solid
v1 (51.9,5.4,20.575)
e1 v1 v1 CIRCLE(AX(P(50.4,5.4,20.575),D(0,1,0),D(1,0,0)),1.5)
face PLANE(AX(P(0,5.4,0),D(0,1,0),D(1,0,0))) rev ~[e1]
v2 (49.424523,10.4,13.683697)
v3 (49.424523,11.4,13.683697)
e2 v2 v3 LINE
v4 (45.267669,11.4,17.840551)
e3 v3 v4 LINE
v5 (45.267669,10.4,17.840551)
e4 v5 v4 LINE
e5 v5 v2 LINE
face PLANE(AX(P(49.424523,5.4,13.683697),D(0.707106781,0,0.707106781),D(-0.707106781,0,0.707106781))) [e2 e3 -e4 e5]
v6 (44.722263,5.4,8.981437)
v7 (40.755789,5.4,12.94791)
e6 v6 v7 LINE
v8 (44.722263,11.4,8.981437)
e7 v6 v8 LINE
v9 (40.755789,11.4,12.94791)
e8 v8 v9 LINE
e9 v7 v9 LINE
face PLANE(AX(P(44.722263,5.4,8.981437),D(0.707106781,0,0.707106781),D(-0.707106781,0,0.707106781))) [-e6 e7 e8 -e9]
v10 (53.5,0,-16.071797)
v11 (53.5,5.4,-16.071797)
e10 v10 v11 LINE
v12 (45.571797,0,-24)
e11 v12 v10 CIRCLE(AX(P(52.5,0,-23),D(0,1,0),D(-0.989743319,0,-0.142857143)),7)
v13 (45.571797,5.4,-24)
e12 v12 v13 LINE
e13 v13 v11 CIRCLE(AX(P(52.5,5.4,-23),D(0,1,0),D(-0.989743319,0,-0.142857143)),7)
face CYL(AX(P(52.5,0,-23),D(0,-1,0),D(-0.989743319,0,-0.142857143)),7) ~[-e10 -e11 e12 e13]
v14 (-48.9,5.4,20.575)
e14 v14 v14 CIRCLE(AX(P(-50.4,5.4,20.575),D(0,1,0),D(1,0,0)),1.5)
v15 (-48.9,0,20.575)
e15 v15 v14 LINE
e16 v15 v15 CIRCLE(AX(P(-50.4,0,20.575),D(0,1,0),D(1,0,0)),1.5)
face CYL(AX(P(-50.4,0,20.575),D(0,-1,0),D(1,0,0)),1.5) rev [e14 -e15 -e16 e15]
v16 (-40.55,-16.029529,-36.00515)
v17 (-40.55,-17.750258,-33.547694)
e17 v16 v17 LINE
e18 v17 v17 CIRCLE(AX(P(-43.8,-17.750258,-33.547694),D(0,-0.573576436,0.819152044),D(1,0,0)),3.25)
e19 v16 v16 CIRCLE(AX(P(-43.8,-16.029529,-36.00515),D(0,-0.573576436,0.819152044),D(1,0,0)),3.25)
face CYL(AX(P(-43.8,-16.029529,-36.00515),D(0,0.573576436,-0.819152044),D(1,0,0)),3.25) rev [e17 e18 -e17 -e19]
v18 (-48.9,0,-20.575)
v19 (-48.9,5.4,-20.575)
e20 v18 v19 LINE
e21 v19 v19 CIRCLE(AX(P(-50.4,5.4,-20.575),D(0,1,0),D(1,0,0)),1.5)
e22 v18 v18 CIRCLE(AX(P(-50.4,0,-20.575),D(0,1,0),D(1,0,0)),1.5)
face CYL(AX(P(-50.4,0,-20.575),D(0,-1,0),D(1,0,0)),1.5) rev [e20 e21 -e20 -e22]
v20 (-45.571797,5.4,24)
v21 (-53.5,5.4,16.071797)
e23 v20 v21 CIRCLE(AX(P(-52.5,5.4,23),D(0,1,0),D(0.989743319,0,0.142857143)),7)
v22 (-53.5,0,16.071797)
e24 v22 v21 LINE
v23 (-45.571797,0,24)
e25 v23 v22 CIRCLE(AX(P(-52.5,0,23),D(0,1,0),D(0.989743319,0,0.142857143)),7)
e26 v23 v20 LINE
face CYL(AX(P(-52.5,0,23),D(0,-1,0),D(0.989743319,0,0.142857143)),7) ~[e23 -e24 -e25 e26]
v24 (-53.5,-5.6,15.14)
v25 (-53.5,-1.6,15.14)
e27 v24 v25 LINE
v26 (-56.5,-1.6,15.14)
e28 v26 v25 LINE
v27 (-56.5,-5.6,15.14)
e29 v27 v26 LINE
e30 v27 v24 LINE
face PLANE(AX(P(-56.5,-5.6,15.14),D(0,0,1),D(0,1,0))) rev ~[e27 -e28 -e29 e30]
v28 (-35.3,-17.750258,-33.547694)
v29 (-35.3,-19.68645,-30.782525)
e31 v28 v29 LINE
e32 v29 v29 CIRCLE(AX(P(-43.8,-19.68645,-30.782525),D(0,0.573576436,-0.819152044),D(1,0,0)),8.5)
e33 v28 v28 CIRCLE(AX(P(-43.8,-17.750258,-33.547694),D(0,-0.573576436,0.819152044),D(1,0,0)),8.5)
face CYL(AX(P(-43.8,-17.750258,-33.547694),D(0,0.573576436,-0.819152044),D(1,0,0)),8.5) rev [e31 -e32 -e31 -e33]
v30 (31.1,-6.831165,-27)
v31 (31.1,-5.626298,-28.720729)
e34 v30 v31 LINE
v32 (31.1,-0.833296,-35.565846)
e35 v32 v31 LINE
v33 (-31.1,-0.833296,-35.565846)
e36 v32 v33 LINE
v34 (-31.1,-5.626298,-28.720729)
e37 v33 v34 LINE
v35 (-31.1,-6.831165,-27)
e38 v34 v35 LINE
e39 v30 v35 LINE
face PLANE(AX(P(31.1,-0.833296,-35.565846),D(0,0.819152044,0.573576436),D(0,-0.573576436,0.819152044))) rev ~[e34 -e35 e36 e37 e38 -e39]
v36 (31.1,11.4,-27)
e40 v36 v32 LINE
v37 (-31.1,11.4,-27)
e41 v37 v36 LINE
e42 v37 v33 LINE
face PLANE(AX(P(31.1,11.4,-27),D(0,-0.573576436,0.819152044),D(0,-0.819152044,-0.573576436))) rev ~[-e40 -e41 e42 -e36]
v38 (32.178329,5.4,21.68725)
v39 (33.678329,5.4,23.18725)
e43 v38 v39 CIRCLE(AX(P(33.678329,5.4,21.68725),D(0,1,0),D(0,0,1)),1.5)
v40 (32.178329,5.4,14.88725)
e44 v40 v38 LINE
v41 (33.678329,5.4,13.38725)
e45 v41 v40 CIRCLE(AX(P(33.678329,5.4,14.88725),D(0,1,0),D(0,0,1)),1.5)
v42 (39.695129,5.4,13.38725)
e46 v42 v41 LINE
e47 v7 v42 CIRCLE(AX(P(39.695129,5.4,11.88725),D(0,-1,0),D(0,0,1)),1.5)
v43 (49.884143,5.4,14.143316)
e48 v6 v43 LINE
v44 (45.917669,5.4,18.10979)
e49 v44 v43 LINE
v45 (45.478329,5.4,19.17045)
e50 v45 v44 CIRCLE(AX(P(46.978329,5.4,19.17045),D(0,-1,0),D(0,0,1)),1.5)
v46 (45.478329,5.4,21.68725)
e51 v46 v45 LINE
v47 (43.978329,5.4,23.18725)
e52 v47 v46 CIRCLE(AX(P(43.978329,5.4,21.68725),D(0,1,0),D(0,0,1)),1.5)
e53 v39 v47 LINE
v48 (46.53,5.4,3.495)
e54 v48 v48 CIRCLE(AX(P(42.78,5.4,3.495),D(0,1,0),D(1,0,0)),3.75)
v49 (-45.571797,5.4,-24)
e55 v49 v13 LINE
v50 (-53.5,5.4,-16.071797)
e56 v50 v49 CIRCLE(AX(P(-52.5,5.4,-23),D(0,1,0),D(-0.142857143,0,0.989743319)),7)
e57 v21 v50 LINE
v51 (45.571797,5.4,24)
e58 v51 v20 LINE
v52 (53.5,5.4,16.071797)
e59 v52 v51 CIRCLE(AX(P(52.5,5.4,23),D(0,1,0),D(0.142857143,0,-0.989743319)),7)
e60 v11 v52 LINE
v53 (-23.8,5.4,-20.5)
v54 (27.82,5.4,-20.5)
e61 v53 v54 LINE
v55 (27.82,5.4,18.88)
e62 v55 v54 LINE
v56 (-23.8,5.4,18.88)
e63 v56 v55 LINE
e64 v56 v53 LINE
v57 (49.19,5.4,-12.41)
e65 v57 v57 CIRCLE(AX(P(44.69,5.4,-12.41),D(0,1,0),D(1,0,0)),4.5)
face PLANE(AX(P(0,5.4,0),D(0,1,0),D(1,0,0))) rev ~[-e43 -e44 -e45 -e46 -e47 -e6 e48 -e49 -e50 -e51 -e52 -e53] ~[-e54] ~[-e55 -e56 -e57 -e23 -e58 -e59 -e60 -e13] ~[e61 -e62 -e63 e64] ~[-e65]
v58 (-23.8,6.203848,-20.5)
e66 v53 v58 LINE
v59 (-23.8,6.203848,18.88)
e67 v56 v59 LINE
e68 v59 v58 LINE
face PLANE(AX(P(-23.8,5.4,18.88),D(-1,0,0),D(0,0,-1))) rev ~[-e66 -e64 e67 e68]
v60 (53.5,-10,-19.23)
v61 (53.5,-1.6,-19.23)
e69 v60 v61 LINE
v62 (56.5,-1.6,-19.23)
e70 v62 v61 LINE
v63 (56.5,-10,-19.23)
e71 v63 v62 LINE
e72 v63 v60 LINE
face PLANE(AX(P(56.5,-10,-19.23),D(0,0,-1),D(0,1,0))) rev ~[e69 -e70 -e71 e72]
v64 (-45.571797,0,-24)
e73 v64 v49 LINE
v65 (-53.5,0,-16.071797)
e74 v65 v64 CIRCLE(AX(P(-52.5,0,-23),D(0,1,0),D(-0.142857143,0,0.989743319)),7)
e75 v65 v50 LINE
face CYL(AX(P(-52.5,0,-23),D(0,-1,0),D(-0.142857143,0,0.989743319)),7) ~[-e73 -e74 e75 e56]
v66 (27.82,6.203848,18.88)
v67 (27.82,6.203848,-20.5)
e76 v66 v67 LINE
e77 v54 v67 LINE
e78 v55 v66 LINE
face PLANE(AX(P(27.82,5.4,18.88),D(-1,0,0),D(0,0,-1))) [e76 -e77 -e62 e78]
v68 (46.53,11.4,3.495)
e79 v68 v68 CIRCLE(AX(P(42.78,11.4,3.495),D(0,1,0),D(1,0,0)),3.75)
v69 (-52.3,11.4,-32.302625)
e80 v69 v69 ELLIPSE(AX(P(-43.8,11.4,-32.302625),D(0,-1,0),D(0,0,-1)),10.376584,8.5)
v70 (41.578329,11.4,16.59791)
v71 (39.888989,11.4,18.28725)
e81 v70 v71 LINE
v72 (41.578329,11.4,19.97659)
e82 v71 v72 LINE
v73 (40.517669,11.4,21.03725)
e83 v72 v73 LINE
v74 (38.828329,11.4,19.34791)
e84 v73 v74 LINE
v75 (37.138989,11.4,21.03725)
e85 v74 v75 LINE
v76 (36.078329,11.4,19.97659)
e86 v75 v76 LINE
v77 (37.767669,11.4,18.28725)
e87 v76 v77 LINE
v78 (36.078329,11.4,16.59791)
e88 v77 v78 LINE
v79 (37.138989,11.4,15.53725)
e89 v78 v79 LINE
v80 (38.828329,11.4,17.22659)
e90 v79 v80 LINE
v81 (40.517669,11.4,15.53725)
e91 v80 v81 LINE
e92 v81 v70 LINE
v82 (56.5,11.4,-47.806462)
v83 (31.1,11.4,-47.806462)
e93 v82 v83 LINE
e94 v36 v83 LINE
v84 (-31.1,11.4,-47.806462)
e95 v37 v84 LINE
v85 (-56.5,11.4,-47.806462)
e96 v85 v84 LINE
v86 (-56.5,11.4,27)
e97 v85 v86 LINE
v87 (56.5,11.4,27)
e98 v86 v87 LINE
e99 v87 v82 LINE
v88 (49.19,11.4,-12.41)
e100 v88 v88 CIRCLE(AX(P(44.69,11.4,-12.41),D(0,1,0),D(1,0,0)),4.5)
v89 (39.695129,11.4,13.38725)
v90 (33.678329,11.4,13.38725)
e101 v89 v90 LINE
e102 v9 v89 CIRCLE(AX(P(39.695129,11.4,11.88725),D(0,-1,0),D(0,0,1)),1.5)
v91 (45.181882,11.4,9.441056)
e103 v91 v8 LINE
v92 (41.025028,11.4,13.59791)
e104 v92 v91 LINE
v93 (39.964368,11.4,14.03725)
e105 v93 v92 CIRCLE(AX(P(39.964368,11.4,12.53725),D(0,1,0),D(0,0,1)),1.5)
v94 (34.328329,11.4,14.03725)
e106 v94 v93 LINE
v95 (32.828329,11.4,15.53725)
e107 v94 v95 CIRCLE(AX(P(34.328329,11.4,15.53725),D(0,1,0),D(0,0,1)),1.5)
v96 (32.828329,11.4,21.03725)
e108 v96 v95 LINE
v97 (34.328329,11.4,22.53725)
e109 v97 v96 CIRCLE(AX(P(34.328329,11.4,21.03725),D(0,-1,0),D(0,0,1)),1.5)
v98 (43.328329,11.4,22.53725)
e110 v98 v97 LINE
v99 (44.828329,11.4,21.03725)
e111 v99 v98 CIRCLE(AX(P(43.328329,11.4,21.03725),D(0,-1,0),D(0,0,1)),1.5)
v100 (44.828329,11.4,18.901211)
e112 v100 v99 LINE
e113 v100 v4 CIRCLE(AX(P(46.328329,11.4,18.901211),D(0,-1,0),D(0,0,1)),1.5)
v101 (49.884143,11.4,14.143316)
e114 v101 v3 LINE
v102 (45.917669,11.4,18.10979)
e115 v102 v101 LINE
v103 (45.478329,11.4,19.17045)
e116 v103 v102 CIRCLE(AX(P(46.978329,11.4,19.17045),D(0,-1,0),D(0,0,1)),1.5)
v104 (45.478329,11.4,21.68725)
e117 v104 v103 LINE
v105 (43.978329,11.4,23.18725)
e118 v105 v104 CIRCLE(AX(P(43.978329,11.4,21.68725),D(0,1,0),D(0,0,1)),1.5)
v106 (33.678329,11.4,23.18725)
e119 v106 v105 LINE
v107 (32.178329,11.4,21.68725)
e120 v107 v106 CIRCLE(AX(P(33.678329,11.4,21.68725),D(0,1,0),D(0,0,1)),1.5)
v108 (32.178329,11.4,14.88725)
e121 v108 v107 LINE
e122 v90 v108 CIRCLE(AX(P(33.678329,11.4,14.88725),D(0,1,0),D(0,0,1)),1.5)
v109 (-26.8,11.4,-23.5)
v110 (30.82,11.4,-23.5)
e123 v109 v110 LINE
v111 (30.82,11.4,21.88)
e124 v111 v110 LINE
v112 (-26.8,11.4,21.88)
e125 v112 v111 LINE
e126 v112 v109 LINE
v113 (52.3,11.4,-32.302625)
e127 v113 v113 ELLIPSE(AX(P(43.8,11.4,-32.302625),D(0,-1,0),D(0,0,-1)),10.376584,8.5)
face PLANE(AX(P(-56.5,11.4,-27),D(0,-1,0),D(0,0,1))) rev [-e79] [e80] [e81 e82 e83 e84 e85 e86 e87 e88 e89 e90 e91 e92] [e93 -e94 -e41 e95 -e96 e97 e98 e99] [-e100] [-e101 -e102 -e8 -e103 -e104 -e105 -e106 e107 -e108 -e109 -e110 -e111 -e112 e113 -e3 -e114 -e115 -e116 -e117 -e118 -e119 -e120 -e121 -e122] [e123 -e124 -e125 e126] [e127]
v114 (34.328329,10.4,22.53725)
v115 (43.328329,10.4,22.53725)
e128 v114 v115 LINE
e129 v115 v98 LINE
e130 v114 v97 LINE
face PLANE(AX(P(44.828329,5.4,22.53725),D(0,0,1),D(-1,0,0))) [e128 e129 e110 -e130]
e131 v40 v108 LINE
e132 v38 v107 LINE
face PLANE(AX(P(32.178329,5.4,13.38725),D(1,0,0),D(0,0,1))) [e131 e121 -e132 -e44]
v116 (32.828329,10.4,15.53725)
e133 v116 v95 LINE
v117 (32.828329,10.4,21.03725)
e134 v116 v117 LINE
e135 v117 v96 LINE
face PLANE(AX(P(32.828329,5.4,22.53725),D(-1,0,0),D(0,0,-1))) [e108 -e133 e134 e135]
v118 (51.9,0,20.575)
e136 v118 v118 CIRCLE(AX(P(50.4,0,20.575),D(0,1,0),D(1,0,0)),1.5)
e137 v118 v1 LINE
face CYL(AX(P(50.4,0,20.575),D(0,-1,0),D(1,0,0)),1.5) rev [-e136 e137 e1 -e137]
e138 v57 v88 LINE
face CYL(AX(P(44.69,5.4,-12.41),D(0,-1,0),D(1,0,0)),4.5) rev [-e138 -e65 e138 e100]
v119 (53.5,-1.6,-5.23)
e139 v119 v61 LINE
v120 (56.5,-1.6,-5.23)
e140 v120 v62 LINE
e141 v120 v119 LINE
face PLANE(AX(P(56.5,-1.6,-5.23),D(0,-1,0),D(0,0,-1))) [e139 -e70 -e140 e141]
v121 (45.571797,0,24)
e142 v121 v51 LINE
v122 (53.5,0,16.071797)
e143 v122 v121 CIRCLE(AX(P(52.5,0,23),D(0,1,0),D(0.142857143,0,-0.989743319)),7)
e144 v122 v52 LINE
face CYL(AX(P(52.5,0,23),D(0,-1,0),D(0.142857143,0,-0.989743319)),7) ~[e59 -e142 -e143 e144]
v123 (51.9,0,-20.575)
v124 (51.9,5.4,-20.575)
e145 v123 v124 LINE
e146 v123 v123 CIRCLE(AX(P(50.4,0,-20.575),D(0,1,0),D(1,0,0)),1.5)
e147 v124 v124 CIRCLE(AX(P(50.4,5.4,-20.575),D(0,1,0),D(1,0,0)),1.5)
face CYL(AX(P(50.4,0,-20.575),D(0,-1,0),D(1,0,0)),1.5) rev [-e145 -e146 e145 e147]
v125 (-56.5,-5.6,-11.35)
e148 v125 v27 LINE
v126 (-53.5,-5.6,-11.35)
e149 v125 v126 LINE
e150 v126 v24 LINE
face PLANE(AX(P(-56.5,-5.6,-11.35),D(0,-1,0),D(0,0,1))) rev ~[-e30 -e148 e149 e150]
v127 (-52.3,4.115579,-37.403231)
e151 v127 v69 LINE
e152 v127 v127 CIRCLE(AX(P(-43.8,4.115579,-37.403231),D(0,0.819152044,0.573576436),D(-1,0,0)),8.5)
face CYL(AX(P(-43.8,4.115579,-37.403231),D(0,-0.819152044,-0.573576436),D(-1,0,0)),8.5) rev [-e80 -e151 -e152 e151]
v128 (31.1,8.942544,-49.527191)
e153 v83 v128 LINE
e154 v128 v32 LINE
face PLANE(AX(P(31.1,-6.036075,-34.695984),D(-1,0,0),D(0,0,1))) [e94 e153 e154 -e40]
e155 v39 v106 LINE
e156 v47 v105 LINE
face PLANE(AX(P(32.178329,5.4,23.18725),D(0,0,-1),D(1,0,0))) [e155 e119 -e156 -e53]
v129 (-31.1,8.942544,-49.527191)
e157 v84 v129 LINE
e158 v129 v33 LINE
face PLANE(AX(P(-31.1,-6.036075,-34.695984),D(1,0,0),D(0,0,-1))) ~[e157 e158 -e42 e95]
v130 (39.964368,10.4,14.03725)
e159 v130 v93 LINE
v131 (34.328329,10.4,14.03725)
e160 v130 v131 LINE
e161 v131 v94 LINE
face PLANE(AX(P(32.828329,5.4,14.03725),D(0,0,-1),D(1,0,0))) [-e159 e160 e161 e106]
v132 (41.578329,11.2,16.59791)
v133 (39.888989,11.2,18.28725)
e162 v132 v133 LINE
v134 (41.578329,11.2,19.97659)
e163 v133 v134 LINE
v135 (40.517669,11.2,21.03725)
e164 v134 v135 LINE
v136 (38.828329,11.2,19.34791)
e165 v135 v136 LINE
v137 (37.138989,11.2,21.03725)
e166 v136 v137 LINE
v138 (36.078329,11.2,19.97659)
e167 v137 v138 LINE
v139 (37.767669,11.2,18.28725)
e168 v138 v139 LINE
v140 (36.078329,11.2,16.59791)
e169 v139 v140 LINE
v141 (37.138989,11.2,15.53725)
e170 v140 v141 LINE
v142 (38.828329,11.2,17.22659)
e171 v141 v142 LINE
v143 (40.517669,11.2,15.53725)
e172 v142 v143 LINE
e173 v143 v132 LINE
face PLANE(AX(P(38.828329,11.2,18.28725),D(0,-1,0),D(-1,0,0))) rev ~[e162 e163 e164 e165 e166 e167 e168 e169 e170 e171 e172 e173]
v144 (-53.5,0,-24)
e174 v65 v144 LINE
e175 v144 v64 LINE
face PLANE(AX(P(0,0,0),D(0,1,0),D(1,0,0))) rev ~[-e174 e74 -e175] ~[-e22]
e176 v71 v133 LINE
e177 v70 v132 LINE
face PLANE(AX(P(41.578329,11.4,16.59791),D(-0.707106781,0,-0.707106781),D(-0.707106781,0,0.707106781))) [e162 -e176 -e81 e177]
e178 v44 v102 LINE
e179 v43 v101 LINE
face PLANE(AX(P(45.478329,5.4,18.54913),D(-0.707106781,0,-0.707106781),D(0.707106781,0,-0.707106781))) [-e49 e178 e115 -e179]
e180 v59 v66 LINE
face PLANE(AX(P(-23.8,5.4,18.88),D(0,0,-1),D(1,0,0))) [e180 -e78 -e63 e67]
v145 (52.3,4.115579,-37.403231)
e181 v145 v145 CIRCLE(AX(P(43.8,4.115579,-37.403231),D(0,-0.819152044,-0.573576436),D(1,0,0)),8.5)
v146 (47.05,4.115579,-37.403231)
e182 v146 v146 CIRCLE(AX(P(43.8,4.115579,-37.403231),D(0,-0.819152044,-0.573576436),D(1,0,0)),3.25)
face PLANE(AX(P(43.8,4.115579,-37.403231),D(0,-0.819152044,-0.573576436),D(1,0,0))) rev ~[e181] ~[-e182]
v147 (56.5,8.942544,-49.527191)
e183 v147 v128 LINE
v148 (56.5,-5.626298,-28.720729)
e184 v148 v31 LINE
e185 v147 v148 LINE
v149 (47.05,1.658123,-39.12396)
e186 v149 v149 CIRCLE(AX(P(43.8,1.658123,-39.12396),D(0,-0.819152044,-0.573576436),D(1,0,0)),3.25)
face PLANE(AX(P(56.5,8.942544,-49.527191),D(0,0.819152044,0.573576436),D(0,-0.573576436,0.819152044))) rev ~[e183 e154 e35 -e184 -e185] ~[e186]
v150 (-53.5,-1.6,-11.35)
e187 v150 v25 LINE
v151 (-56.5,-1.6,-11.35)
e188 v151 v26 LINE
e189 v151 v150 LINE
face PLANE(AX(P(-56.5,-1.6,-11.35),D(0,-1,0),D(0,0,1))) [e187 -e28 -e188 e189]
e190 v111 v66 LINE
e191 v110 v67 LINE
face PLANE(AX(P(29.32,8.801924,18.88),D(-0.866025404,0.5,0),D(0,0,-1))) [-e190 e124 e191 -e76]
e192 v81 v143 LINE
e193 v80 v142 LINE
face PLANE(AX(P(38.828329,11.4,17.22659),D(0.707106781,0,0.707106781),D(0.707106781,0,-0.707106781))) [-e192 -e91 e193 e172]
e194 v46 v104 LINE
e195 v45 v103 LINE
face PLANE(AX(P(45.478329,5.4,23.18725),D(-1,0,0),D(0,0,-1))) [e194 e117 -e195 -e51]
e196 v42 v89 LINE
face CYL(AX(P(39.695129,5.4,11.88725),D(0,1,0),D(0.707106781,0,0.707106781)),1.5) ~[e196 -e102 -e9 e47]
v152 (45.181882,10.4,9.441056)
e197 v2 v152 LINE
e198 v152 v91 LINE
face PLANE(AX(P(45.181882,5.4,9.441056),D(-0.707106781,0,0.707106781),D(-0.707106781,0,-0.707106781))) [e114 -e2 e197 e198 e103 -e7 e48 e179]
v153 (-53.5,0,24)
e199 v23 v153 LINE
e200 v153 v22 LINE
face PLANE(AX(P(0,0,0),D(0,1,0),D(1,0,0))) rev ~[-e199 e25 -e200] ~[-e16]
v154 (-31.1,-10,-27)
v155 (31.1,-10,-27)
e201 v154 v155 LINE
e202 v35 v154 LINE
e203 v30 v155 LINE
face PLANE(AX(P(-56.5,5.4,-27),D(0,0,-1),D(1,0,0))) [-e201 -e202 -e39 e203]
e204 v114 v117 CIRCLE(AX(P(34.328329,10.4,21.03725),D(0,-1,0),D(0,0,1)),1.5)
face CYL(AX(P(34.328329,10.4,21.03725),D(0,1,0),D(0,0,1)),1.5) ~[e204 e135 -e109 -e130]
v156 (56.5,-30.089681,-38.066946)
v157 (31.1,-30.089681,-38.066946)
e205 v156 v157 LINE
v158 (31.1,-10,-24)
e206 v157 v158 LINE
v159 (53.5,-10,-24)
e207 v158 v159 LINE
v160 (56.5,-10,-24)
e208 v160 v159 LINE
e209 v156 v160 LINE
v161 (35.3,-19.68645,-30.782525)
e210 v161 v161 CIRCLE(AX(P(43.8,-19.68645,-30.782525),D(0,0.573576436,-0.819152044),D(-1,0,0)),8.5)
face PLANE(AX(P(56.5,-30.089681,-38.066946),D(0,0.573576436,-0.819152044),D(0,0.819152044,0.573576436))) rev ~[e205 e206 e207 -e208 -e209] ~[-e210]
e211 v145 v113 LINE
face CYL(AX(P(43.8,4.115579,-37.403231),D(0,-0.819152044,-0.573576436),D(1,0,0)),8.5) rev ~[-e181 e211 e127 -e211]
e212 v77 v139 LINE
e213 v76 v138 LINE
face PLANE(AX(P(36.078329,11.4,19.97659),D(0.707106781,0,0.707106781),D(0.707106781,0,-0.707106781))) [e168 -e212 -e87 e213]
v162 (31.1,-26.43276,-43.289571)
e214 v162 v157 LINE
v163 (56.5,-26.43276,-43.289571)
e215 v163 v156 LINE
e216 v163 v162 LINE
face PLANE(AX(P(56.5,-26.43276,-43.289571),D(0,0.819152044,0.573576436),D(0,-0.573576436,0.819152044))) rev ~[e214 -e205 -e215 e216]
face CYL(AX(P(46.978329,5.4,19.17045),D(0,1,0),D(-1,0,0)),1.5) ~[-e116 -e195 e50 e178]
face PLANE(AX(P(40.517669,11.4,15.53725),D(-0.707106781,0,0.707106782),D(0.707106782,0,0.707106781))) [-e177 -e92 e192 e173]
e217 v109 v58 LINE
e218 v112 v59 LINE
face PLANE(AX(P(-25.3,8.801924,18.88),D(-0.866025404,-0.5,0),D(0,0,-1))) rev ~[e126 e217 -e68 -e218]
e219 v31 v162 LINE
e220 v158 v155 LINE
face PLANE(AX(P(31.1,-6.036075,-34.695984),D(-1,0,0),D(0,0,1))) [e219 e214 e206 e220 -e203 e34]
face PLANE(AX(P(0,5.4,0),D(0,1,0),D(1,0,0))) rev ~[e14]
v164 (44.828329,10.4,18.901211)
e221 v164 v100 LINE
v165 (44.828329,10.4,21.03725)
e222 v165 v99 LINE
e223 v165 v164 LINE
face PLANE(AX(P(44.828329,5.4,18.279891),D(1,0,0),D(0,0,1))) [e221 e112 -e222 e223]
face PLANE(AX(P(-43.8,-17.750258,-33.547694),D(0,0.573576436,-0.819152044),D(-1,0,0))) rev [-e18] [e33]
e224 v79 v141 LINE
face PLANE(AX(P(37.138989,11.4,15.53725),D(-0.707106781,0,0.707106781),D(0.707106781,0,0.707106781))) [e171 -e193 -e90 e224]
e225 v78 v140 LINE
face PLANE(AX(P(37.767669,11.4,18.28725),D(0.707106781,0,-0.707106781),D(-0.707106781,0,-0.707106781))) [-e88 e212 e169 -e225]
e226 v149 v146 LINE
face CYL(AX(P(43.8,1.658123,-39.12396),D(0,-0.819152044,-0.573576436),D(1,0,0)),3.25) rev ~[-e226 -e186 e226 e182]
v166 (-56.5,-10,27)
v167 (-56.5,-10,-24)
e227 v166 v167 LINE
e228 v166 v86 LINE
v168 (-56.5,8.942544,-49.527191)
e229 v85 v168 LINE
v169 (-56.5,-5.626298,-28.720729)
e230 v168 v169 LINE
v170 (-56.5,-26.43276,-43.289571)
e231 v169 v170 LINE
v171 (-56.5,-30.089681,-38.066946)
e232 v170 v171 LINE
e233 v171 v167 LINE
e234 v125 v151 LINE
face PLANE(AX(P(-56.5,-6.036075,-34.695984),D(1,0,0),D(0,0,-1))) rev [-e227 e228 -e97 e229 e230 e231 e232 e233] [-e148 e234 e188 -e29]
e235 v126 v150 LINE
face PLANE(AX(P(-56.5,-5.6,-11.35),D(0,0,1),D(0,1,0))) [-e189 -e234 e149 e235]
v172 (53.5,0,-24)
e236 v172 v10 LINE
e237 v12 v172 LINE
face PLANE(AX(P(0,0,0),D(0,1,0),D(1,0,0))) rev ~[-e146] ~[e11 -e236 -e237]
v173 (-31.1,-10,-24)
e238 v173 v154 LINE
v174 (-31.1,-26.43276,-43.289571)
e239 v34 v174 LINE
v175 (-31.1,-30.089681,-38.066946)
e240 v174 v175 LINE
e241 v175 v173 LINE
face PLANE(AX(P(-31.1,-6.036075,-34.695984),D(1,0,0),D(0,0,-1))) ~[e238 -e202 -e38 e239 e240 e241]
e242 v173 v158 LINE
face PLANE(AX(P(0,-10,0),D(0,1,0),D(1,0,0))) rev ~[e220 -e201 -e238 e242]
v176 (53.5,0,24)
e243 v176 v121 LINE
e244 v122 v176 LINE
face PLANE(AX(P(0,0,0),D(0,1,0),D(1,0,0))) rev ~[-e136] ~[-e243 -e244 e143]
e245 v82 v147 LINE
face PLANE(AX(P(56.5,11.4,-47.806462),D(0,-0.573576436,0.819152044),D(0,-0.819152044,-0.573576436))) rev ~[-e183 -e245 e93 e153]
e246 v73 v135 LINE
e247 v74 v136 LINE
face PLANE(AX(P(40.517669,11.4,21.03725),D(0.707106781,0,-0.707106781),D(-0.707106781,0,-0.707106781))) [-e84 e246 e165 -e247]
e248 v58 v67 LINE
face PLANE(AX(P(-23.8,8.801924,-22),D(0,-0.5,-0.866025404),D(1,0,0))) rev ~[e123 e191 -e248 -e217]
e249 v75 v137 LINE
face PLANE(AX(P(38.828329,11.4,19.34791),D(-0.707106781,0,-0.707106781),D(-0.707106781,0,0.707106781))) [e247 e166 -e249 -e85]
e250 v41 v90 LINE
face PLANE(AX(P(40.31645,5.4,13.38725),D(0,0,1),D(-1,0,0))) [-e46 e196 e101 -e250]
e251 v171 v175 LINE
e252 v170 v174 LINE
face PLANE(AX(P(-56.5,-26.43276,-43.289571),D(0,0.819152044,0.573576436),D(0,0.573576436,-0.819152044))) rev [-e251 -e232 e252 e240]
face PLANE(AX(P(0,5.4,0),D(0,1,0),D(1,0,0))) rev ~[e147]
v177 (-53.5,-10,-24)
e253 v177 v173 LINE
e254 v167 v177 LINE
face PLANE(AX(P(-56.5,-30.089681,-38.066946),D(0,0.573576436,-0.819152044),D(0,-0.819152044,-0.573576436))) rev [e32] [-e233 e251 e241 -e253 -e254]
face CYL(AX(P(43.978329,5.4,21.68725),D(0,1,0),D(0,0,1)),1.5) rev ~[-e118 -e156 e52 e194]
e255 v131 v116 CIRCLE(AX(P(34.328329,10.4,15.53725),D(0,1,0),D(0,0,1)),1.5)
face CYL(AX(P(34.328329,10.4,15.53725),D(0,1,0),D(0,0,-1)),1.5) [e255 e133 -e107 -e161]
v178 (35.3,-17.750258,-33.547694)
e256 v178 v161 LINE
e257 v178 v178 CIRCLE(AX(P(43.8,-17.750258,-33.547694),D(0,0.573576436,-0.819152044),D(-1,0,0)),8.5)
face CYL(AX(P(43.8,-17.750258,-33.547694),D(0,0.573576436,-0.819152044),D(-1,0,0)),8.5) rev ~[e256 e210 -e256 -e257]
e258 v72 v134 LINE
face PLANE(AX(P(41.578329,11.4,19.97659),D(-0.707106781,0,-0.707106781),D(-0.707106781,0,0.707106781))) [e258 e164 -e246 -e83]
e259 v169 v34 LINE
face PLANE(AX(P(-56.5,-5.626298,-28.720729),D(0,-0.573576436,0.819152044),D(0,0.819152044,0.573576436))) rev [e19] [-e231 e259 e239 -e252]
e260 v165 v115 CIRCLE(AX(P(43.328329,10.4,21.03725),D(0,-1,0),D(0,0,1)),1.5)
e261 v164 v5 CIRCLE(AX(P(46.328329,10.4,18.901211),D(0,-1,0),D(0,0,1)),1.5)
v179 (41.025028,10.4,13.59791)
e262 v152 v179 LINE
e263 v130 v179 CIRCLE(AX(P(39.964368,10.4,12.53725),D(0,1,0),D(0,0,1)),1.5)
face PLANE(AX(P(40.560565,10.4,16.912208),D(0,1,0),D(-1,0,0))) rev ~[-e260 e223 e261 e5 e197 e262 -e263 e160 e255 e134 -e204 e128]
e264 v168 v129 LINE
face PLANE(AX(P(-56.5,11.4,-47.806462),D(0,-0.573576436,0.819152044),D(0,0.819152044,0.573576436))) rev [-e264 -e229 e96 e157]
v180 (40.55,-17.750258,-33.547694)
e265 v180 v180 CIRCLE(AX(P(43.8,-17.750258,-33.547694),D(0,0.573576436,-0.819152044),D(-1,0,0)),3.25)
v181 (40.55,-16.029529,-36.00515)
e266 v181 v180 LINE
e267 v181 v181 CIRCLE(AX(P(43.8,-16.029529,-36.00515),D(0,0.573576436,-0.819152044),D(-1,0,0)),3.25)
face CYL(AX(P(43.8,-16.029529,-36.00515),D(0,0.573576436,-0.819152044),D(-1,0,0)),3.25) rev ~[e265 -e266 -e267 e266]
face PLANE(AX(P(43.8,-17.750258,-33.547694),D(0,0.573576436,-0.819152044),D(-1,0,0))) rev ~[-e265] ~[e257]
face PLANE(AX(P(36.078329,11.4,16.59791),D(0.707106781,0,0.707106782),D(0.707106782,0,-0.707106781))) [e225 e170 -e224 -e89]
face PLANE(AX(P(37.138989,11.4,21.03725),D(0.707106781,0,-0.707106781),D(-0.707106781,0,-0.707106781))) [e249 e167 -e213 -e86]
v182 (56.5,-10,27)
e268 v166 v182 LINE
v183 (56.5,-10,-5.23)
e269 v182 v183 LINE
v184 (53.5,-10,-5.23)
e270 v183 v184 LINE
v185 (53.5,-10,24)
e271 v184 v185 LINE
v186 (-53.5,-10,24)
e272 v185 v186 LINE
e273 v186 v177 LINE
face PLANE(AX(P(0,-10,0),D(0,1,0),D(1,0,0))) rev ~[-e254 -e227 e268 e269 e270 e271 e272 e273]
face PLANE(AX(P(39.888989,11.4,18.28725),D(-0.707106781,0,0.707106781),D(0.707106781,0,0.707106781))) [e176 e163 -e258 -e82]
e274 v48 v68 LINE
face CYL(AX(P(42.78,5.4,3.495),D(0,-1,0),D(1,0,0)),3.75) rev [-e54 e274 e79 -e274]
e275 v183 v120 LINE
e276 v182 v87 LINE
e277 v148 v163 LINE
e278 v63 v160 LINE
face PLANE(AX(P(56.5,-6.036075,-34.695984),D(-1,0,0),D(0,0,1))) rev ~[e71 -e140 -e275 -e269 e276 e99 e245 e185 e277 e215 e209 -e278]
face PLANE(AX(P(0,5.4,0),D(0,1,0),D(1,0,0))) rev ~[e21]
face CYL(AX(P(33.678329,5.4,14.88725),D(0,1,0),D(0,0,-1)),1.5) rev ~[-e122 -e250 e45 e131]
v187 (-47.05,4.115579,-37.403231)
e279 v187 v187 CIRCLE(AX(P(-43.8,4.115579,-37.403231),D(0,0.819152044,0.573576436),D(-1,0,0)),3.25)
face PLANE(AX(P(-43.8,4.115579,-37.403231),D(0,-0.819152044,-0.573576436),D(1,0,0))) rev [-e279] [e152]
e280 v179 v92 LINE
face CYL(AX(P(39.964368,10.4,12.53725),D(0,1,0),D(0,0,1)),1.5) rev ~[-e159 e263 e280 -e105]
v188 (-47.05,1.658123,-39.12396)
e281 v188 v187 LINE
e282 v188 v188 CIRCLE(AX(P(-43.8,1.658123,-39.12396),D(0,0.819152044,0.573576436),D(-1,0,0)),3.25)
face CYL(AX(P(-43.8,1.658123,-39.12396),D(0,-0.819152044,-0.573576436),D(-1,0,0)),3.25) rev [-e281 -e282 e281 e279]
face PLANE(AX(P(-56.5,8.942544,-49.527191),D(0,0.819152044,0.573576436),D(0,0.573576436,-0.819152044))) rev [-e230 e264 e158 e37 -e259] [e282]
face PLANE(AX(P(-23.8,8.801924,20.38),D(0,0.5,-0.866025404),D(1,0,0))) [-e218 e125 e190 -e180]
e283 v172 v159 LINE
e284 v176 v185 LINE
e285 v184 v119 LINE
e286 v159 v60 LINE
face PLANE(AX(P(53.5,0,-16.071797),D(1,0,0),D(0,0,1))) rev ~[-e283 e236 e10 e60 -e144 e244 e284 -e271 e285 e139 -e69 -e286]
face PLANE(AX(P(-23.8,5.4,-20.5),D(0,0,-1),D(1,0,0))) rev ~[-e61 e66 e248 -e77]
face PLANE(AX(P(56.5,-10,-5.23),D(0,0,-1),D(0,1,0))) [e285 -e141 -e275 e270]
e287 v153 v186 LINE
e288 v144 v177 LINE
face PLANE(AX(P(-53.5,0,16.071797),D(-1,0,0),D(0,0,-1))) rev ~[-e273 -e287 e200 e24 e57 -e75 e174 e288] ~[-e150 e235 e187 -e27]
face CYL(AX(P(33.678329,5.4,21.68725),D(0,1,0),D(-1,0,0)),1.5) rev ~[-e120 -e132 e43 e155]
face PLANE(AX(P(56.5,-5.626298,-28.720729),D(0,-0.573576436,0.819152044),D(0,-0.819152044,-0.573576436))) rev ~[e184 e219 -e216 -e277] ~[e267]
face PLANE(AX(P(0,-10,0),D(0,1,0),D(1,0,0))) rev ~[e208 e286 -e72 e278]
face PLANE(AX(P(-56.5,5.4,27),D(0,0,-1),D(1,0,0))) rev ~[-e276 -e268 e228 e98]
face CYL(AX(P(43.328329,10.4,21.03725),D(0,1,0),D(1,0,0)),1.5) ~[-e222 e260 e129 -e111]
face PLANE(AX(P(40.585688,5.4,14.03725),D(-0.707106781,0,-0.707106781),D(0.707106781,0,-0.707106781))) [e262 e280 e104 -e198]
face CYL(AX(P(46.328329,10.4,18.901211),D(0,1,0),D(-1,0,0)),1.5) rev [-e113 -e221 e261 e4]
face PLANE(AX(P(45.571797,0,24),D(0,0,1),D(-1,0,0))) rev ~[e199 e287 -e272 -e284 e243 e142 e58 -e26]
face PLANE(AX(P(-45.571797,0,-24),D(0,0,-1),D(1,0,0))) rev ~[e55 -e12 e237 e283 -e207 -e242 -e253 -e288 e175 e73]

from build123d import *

# Parameters (mm, degrees)
SKETCH1_W               = 113
SKETCH1_H               = 54
BOSS_EXTRUDE1_DEPTH     = 10
SKETCH1_3_W             = 113
SKETCH1_3_H             = 54
SKETCH1_3_R             = 1.5
BOSS_EXTRUDE2_DEPTH     = 5.4
BOSS_EXTRUDE5_START     = 5.4
SKETCH1_4_W             = 113
SKETCH1_4_H             = 54
SKETCH1_4_R             = 3.75
SKETCH1_4_R_2           = 4.5
SKETCH1_4_W_2           = 51.62
SKETCH1_4_H_2           = 39.38
BOSS_EXTRUDE5_DEPTH     = 6
CUT_EXTRUDE_THIN1_START = 5.4
CUT_EXTRUDE_THIN1_DEPTH = 6
CUT_EXTRUDE1_DEPTH      = 5
FILLET1_R               = 1.5
CUT_EXTRUDE2_DEPTH      = 0.2
CHAMFER1_SIZE           = 3
CHAMFER1_SIZE2          = 5.196152423
SKETCH4_W               = 26.49
SKETCH4_H               = 4
CUT_EXTRUDE3_DEPTH      = 5
SKETCH5_W               = 14
SKETCH5_H               = 8.4
CUT_EXTRUDE4_DEPTH      = 5
BOSS_EXTRUDE6_DEPTH     = 25.4
SKETCH7_R               = 3.25
CUT_EXTRUDE5_DEPTH      = 46.907223847
CUT_EXTRUDE8_START      = -3
SKETCH7_4_R             = 8.5
SKETCH7_4_R_2           = 3.25
CUT_EXTRUDE8_DEPTH      = 43.907223847
SKETCH8_R               = 3.25
CUT_EXTRUDE6_DEPTH      = 60.675369484
CUT_EXTRUDE9_START      = -3
SKETCH8_5_R             = 8.5
SKETCH8_5_R_2           = 3.25
CUT_EXTRUDE9_DEPTH      = 25.4
BOSS_EXTRUDE9_REACH     = 89.6


with BuildPart() as part:
    # Sketch1 → Boss-Extrude1 (new body)
    with BuildSketch(Plane(origin=(0, 0, 0), x_dir=(1, 0, 0), z_dir=(0, 1, 0))):
        Rectangle(SKETCH1_W, SKETCH1_H)
        Polygon((-53.5, -16.07179677), (-53.5, 16.07179677), (-53.5, 24), (-45.57179677, 24), (45.57179677, 24), (53.5, 24), (53.5, 16.07179677), (53.5, -16.07179677), (53.5, -24), (45.57179677, -24), (-45.57179677, -24), (-53.5, -24), align=None, mode=Mode.SUBTRACT)
    extrude(amount=-BOSS_EXTRUDE1_DEPTH)

    # Sketch1<3> → Boss-Extrude2 (add)
    with BuildSketch(Plane(origin=(0, 0, 0), x_dir=(1, 0, 0), z_dir=(0, 1, 0))):
        Rectangle(SKETCH1_3_W, SKETCH1_3_H)
        Polygon((-53.5, -16.07179677), (-53.5, 16.07179677), (-53.5, 24), (-45.57179677, 24), (45.57179677, 24), (53.5, 24), (53.5, 16.07179677), (53.5, -16.07179677), (53.5, -24), (45.57179677, -24), (-45.57179677, -24), (-53.5, -24), align=None, mode=Mode.SUBTRACT)
        with BuildLine():
            Line((-53.5, 24), (-53.5, 16.07179677))
            ThreePointArc((-53.5, 16.07179677), (-47.550252532, 18.050252532), (-45.57179677, 24))
            Line((-45.57179677, 24), (-53.5, 24))
        make_face()
        with Locations((-50.4, 20.575)):
            Circle(SKETCH1_3_R, mode=Mode.SUBTRACT)
        with BuildLine():
            ThreePointArc((-45.57179677, -24), (-47.550252532, -18.050252532), (-53.5, -16.07179677))
            Line((-53.5, -16.07179677), (-53.5, -24))
            Line((-53.5, -24), (-45.57179677, -24))
        make_face()
        with Locations((-50.4, -20.575)):
            Circle(SKETCH1_3_R, mode=Mode.SUBTRACT)
        with BuildLine():
            Line((53.5, 24), (45.57179677, 24))
            ThreePointArc((45.57179677, 24), (47.550252532, 18.050252532), (53.5, 16.07179677))
            Line((53.5, 16.07179677), (53.5, 24))
        make_face()
        with Locations((50.4, 20.575)):
            Circle(SKETCH1_3_R, mode=Mode.SUBTRACT)
        with BuildLine():
            ThreePointArc((53.5, -16.07179677), (47.550252532, -18.050252532), (45.57179677, -24))
            Line((45.57179677, -24), (53.5, -24))
            Line((53.5, -24), (53.5, -16.07179677))
        make_face()
        with Locations((50.4, -20.575)):
            Circle(SKETCH1_3_R, mode=Mode.SUBTRACT)
    extrude(amount=BOSS_EXTRUDE2_DEPTH)

    # Sketch1<4> → Boss-Extrude5 (add)
    with BuildSketch(Plane(origin=(0, 0, 0), x_dir=(1, 0, 0), z_dir=(0, 1, 0)).offset(BOSS_EXTRUDE5_START)):
        Rectangle(SKETCH1_4_W, SKETCH1_4_H)
        with Locations((42.78, -3.495)):
            Circle(SKETCH1_4_R, mode=Mode.SUBTRACT)
        with Locations((44.69, 12.41)):
            Circle(SKETCH1_4_R_2, mode=Mode.SUBTRACT)
        with Locations((2.01, 0.81)):
            Rectangle(SKETCH1_4_W_2, SKETCH1_4_H_2, mode=Mode.SUBTRACT)
    extrude(amount=BOSS_EXTRUDE5_DEPTH)

    # Sketch1<5> → Cut-Extrude-Thin1 (cut)
    with BuildSketch(Plane(origin=(0, 0, 0), x_dir=(1, 0, 0), z_dir=(0, 1, 0)).offset(CUT_EXTRUDE_THIN1_START)):
        Polygon((49.424523111, -13.683696801), (44.828329033, -18.279890879), (44.828329033, -22.537250192), (32.828329033, -22.537250192), (32.828329033, -14.037250192), (40.585688346, -14.037250192), (45.181882424, -9.441056114), (44.722263016, -8.981436706), (40.316449531, -13.387250192), (32.178329033, -13.387250192), (32.178329033, -23.187250192), (45.478329033, -23.187250192), (45.478329033, -18.549129694), (49.884142519, -14.143316209), align=None)
    extrude(amount=CUT_EXTRUDE_THIN1_DEPTH, mode=Mode.SUBTRACT)

    # Sketch2 → Cut-Extrude1 (cut)
    with BuildSketch(Plane.XZ.offset(-5.4)):
        Polygon((32.828329033, 14.037250192), (32.828329033, 22.537250192), (44.828329033, 22.537250192), (44.828329033, 18.279890879), (49.424523111, 13.683696801), (45.181882424, 9.441056114), (40.585688346, 14.037250192), align=None)
    extrude(amount=-CUT_EXTRUDE1_DEPTH, mode=Mode.SUBTRACT)

    # Fillet1
    fillet1_edges = [part.edges().sort_by_distance(p)[0] for p in [
        (44.828329033, 10.9, 18.279890879),
        (44.828329033, 10.9, 22.537250192),
        (32.828329033, 10.9, 22.537250192),
        (32.828329033, 10.9, 14.037250192),
        (40.585688346, 10.9, 14.037250192),
        (40.316449531, 8.4, 13.387250192),
        (32.178329033, 8.4, 13.387250192),
        (32.178329033, 8.4, 23.187250192),
        (45.478329033, 8.4, 23.187250192),
        (45.478329033, 8.4, 18.549129694),
    ]]
    fillet(fillet1_edges, radius=FILLET1_R)

    # Sketch3 → Cut-Extrude2 (cut)
    with BuildSketch(Plane(origin=(0, 11.4, 0), x_dir=(1, 0, 0), z_dir=(0, 1, 0))):
        Polygon((37.138989205, -15.537250192), (38.828329033, -17.22659002), (40.517668861, -15.537250192), (41.578329033, -16.597910363), (39.888989205, -18.287250192), (41.578329033, -19.97659002), (40.517668861, -21.037250192), (38.828329033, -19.347910363), (37.138989205, -21.037250192), (36.078329033, -19.97659002), (37.767668861, -18.287250192), (36.078329033, -16.597910363), align=None)
    extrude(amount=-CUT_EXTRUDE2_DEPTH, mode=Mode.SUBTRACT)

    # Chamfer1
    chamfer1_edges = [part.edges().sort_by_distance(p)[0] for p in [
        (-23.8, 11.4, -0.81),
        (2.01, 11.4, 18.88),
        (27.82, 11.4, -0.81),
        (2.01, 11.4, -20.5),
    ]]
    chamfer1_side = [part.faces().sort_by_distance(p)[0] for p in [
        (0, 11.4, -25.7476023),
    ]]
    chamfer(chamfer1_edges, length=CHAMFER1_SIZE, length2=CHAMFER1_SIZE2, reference=chamfer1_side[0])

    # Sketch4 → Cut-Extrude3 (cut)
    with BuildSketch(Plane.ZY.offset(56.5)):
        with Locations((1.895, -3.6)):
            Rectangle(SKETCH4_W, SKETCH4_H)
    extrude(amount=-CUT_EXTRUDE3_DEPTH, mode=Mode.SUBTRACT)

    # Sketch5 → Cut-Extrude4 (cut)
    with BuildSketch(Plane(origin=(56.5, 0, 0), x_dir=(0, 0, -1), z_dir=(1, 0, 0))):
        with Locations((12.23, -5.8)):
            Rectangle(SKETCH5_W, SKETCH5_H)
    extrude(amount=-CUT_EXTRUDE4_DEPTH, mode=Mode.SUBTRACT)

    # Sketch6 → Boss-Extrude6 (add)
    with BuildSketch(Plane(origin=(56.5, 0, 0), x_dir=(0, 0, -1), z_dir=(1, 0, 0))):
        Polygon((47.806461925, 11.4), (49.527191234, 8.942543867), (28.720729309, -5.626297616), (43.289570792, -26.432759541), (38.066945953, -30.089680823), (24, -10), (27, -10), (27, -3.168841483), (27, 11.4), align=None)
    boss_extrude6 = extrude(amount=-BOSS_EXTRUDE6_DEPTH)

    # Sketch7 → Cut-Extrude5 (cut, through all)
    with BuildSketch(Plane(origin=(0, -17.269631064, -12.092325853), x_dir=(1, 0, 0), z_dir=(0, -0.819152044, -0.573576436))):
        with Locations((43.8, -32.99953239)):
            Circle(SKETCH7_R)
    cut_extrude5 = extrude(amount=-CUT_EXTRUDE5_DEPTH, mode=Mode.SUBTRACT)

    # Sketch7<4> → Cut-Extrude8 (cut, through all)
    with BuildSketch(Plane(origin=(0, -17.269631064, -12.092325853), x_dir=(1, 0, 0), z_dir=(0, -0.819152044, -0.573576436)).offset(CUT_EXTRUDE8_START)):
        with Locations((43.8, -32.99953239)):
            Circle(SKETCH7_4_R)
        with Locations((43.8, -32.99953239)):
            Circle(SKETCH7_4_R_2, mode=Mode.SUBTRACT)
    cut_extrude8 = extrude(amount=-CUT_EXTRUDE8_DEPTH, mode=Mode.SUBTRACT)

    # Sketch8 → Cut-Extrude6 (cut, through all)
    with BuildSketch(Plane(origin=(0, 11.643333448, -16.628403456), x_dir=(-1, 0, 0), z_dir=(0, 0.573576436, -0.819152044))):
        with Locations((-43.8, -33.782326761)):
            Circle(SKETCH8_R)
    cut_extrude6 = extrude(amount=-CUT_EXTRUDE6_DEPTH, mode=Mode.SUBTRACT)

    # Sketch8<5> → Cut-Extrude9 (cut)
    with BuildSketch(Plane(origin=(0, 11.643333448, -16.628403456), x_dir=(-1, 0, 0), z_dir=(0, 0.573576436, -0.819152044)).offset(CUT_EXTRUDE9_START)):
        with Locations((-43.8, -33.782326761)):
            Circle(SKETCH8_5_R)
        with Locations((-43.8, -33.782326761)):
            Circle(SKETCH8_5_R_2, mode=Mode.SUBTRACT)
    cut_extrude9 = extrude(amount=-CUT_EXTRUDE9_DEPTH, mode=Mode.SUBTRACT)

    # Mirror1: Boss-Extrude6, Cut-Extrude5, Cut-Extrude8, Cut-Extrude6, Cut-Extrude9 across plane
    add(boss_extrude6.mirror(Plane(origin=(0, 0, 0), x_dir=(0, 0, 1), z_dir=(1, 0, 0))))
    add(cut_extrude5.mirror(Plane(origin=(0, 0, 0), x_dir=(0, 0, 1), z_dir=(1, 0, 0))), mode=Mode.SUBTRACT)
    add(cut_extrude8.mirror(Plane(origin=(0, 0, 0), x_dir=(0, 0, 1), z_dir=(1, 0, 0))), mode=Mode.SUBTRACT)
    add(cut_extrude6.mirror(Plane(origin=(0, 0, 0), x_dir=(0, 0, 1), z_dir=(1, 0, 0))), mode=Mode.SUBTRACT)
    add(cut_extrude9.mirror(Plane(origin=(0, 0, 0), x_dir=(0, 0, 1), z_dir=(1, 0, 0))), mode=Mode.SUBTRACT)

    # Sketch9 → Boss-Extrude9 (add, up to next)
    with BuildSketch(Plane.ZY.offset(-31.1), mode=Mode.PRIVATE) as boss_extrude9_sk1:
        Polygon((-27, 11.4), (-35.565845727, -0.833295501), (-27, -6.83116525), align=None)
    boss_extrude9_tool1 = extrude(boss_extrude9_sk1.sketch, amount=BOSS_EXTRUDE9_REACH, mode=Mode.PRIVATE) - part.part
    add(boss_extrude9_tool1.solids().sort_by_distance((31.1, 1.24518, -29.855282))[0])


solid = part.part
